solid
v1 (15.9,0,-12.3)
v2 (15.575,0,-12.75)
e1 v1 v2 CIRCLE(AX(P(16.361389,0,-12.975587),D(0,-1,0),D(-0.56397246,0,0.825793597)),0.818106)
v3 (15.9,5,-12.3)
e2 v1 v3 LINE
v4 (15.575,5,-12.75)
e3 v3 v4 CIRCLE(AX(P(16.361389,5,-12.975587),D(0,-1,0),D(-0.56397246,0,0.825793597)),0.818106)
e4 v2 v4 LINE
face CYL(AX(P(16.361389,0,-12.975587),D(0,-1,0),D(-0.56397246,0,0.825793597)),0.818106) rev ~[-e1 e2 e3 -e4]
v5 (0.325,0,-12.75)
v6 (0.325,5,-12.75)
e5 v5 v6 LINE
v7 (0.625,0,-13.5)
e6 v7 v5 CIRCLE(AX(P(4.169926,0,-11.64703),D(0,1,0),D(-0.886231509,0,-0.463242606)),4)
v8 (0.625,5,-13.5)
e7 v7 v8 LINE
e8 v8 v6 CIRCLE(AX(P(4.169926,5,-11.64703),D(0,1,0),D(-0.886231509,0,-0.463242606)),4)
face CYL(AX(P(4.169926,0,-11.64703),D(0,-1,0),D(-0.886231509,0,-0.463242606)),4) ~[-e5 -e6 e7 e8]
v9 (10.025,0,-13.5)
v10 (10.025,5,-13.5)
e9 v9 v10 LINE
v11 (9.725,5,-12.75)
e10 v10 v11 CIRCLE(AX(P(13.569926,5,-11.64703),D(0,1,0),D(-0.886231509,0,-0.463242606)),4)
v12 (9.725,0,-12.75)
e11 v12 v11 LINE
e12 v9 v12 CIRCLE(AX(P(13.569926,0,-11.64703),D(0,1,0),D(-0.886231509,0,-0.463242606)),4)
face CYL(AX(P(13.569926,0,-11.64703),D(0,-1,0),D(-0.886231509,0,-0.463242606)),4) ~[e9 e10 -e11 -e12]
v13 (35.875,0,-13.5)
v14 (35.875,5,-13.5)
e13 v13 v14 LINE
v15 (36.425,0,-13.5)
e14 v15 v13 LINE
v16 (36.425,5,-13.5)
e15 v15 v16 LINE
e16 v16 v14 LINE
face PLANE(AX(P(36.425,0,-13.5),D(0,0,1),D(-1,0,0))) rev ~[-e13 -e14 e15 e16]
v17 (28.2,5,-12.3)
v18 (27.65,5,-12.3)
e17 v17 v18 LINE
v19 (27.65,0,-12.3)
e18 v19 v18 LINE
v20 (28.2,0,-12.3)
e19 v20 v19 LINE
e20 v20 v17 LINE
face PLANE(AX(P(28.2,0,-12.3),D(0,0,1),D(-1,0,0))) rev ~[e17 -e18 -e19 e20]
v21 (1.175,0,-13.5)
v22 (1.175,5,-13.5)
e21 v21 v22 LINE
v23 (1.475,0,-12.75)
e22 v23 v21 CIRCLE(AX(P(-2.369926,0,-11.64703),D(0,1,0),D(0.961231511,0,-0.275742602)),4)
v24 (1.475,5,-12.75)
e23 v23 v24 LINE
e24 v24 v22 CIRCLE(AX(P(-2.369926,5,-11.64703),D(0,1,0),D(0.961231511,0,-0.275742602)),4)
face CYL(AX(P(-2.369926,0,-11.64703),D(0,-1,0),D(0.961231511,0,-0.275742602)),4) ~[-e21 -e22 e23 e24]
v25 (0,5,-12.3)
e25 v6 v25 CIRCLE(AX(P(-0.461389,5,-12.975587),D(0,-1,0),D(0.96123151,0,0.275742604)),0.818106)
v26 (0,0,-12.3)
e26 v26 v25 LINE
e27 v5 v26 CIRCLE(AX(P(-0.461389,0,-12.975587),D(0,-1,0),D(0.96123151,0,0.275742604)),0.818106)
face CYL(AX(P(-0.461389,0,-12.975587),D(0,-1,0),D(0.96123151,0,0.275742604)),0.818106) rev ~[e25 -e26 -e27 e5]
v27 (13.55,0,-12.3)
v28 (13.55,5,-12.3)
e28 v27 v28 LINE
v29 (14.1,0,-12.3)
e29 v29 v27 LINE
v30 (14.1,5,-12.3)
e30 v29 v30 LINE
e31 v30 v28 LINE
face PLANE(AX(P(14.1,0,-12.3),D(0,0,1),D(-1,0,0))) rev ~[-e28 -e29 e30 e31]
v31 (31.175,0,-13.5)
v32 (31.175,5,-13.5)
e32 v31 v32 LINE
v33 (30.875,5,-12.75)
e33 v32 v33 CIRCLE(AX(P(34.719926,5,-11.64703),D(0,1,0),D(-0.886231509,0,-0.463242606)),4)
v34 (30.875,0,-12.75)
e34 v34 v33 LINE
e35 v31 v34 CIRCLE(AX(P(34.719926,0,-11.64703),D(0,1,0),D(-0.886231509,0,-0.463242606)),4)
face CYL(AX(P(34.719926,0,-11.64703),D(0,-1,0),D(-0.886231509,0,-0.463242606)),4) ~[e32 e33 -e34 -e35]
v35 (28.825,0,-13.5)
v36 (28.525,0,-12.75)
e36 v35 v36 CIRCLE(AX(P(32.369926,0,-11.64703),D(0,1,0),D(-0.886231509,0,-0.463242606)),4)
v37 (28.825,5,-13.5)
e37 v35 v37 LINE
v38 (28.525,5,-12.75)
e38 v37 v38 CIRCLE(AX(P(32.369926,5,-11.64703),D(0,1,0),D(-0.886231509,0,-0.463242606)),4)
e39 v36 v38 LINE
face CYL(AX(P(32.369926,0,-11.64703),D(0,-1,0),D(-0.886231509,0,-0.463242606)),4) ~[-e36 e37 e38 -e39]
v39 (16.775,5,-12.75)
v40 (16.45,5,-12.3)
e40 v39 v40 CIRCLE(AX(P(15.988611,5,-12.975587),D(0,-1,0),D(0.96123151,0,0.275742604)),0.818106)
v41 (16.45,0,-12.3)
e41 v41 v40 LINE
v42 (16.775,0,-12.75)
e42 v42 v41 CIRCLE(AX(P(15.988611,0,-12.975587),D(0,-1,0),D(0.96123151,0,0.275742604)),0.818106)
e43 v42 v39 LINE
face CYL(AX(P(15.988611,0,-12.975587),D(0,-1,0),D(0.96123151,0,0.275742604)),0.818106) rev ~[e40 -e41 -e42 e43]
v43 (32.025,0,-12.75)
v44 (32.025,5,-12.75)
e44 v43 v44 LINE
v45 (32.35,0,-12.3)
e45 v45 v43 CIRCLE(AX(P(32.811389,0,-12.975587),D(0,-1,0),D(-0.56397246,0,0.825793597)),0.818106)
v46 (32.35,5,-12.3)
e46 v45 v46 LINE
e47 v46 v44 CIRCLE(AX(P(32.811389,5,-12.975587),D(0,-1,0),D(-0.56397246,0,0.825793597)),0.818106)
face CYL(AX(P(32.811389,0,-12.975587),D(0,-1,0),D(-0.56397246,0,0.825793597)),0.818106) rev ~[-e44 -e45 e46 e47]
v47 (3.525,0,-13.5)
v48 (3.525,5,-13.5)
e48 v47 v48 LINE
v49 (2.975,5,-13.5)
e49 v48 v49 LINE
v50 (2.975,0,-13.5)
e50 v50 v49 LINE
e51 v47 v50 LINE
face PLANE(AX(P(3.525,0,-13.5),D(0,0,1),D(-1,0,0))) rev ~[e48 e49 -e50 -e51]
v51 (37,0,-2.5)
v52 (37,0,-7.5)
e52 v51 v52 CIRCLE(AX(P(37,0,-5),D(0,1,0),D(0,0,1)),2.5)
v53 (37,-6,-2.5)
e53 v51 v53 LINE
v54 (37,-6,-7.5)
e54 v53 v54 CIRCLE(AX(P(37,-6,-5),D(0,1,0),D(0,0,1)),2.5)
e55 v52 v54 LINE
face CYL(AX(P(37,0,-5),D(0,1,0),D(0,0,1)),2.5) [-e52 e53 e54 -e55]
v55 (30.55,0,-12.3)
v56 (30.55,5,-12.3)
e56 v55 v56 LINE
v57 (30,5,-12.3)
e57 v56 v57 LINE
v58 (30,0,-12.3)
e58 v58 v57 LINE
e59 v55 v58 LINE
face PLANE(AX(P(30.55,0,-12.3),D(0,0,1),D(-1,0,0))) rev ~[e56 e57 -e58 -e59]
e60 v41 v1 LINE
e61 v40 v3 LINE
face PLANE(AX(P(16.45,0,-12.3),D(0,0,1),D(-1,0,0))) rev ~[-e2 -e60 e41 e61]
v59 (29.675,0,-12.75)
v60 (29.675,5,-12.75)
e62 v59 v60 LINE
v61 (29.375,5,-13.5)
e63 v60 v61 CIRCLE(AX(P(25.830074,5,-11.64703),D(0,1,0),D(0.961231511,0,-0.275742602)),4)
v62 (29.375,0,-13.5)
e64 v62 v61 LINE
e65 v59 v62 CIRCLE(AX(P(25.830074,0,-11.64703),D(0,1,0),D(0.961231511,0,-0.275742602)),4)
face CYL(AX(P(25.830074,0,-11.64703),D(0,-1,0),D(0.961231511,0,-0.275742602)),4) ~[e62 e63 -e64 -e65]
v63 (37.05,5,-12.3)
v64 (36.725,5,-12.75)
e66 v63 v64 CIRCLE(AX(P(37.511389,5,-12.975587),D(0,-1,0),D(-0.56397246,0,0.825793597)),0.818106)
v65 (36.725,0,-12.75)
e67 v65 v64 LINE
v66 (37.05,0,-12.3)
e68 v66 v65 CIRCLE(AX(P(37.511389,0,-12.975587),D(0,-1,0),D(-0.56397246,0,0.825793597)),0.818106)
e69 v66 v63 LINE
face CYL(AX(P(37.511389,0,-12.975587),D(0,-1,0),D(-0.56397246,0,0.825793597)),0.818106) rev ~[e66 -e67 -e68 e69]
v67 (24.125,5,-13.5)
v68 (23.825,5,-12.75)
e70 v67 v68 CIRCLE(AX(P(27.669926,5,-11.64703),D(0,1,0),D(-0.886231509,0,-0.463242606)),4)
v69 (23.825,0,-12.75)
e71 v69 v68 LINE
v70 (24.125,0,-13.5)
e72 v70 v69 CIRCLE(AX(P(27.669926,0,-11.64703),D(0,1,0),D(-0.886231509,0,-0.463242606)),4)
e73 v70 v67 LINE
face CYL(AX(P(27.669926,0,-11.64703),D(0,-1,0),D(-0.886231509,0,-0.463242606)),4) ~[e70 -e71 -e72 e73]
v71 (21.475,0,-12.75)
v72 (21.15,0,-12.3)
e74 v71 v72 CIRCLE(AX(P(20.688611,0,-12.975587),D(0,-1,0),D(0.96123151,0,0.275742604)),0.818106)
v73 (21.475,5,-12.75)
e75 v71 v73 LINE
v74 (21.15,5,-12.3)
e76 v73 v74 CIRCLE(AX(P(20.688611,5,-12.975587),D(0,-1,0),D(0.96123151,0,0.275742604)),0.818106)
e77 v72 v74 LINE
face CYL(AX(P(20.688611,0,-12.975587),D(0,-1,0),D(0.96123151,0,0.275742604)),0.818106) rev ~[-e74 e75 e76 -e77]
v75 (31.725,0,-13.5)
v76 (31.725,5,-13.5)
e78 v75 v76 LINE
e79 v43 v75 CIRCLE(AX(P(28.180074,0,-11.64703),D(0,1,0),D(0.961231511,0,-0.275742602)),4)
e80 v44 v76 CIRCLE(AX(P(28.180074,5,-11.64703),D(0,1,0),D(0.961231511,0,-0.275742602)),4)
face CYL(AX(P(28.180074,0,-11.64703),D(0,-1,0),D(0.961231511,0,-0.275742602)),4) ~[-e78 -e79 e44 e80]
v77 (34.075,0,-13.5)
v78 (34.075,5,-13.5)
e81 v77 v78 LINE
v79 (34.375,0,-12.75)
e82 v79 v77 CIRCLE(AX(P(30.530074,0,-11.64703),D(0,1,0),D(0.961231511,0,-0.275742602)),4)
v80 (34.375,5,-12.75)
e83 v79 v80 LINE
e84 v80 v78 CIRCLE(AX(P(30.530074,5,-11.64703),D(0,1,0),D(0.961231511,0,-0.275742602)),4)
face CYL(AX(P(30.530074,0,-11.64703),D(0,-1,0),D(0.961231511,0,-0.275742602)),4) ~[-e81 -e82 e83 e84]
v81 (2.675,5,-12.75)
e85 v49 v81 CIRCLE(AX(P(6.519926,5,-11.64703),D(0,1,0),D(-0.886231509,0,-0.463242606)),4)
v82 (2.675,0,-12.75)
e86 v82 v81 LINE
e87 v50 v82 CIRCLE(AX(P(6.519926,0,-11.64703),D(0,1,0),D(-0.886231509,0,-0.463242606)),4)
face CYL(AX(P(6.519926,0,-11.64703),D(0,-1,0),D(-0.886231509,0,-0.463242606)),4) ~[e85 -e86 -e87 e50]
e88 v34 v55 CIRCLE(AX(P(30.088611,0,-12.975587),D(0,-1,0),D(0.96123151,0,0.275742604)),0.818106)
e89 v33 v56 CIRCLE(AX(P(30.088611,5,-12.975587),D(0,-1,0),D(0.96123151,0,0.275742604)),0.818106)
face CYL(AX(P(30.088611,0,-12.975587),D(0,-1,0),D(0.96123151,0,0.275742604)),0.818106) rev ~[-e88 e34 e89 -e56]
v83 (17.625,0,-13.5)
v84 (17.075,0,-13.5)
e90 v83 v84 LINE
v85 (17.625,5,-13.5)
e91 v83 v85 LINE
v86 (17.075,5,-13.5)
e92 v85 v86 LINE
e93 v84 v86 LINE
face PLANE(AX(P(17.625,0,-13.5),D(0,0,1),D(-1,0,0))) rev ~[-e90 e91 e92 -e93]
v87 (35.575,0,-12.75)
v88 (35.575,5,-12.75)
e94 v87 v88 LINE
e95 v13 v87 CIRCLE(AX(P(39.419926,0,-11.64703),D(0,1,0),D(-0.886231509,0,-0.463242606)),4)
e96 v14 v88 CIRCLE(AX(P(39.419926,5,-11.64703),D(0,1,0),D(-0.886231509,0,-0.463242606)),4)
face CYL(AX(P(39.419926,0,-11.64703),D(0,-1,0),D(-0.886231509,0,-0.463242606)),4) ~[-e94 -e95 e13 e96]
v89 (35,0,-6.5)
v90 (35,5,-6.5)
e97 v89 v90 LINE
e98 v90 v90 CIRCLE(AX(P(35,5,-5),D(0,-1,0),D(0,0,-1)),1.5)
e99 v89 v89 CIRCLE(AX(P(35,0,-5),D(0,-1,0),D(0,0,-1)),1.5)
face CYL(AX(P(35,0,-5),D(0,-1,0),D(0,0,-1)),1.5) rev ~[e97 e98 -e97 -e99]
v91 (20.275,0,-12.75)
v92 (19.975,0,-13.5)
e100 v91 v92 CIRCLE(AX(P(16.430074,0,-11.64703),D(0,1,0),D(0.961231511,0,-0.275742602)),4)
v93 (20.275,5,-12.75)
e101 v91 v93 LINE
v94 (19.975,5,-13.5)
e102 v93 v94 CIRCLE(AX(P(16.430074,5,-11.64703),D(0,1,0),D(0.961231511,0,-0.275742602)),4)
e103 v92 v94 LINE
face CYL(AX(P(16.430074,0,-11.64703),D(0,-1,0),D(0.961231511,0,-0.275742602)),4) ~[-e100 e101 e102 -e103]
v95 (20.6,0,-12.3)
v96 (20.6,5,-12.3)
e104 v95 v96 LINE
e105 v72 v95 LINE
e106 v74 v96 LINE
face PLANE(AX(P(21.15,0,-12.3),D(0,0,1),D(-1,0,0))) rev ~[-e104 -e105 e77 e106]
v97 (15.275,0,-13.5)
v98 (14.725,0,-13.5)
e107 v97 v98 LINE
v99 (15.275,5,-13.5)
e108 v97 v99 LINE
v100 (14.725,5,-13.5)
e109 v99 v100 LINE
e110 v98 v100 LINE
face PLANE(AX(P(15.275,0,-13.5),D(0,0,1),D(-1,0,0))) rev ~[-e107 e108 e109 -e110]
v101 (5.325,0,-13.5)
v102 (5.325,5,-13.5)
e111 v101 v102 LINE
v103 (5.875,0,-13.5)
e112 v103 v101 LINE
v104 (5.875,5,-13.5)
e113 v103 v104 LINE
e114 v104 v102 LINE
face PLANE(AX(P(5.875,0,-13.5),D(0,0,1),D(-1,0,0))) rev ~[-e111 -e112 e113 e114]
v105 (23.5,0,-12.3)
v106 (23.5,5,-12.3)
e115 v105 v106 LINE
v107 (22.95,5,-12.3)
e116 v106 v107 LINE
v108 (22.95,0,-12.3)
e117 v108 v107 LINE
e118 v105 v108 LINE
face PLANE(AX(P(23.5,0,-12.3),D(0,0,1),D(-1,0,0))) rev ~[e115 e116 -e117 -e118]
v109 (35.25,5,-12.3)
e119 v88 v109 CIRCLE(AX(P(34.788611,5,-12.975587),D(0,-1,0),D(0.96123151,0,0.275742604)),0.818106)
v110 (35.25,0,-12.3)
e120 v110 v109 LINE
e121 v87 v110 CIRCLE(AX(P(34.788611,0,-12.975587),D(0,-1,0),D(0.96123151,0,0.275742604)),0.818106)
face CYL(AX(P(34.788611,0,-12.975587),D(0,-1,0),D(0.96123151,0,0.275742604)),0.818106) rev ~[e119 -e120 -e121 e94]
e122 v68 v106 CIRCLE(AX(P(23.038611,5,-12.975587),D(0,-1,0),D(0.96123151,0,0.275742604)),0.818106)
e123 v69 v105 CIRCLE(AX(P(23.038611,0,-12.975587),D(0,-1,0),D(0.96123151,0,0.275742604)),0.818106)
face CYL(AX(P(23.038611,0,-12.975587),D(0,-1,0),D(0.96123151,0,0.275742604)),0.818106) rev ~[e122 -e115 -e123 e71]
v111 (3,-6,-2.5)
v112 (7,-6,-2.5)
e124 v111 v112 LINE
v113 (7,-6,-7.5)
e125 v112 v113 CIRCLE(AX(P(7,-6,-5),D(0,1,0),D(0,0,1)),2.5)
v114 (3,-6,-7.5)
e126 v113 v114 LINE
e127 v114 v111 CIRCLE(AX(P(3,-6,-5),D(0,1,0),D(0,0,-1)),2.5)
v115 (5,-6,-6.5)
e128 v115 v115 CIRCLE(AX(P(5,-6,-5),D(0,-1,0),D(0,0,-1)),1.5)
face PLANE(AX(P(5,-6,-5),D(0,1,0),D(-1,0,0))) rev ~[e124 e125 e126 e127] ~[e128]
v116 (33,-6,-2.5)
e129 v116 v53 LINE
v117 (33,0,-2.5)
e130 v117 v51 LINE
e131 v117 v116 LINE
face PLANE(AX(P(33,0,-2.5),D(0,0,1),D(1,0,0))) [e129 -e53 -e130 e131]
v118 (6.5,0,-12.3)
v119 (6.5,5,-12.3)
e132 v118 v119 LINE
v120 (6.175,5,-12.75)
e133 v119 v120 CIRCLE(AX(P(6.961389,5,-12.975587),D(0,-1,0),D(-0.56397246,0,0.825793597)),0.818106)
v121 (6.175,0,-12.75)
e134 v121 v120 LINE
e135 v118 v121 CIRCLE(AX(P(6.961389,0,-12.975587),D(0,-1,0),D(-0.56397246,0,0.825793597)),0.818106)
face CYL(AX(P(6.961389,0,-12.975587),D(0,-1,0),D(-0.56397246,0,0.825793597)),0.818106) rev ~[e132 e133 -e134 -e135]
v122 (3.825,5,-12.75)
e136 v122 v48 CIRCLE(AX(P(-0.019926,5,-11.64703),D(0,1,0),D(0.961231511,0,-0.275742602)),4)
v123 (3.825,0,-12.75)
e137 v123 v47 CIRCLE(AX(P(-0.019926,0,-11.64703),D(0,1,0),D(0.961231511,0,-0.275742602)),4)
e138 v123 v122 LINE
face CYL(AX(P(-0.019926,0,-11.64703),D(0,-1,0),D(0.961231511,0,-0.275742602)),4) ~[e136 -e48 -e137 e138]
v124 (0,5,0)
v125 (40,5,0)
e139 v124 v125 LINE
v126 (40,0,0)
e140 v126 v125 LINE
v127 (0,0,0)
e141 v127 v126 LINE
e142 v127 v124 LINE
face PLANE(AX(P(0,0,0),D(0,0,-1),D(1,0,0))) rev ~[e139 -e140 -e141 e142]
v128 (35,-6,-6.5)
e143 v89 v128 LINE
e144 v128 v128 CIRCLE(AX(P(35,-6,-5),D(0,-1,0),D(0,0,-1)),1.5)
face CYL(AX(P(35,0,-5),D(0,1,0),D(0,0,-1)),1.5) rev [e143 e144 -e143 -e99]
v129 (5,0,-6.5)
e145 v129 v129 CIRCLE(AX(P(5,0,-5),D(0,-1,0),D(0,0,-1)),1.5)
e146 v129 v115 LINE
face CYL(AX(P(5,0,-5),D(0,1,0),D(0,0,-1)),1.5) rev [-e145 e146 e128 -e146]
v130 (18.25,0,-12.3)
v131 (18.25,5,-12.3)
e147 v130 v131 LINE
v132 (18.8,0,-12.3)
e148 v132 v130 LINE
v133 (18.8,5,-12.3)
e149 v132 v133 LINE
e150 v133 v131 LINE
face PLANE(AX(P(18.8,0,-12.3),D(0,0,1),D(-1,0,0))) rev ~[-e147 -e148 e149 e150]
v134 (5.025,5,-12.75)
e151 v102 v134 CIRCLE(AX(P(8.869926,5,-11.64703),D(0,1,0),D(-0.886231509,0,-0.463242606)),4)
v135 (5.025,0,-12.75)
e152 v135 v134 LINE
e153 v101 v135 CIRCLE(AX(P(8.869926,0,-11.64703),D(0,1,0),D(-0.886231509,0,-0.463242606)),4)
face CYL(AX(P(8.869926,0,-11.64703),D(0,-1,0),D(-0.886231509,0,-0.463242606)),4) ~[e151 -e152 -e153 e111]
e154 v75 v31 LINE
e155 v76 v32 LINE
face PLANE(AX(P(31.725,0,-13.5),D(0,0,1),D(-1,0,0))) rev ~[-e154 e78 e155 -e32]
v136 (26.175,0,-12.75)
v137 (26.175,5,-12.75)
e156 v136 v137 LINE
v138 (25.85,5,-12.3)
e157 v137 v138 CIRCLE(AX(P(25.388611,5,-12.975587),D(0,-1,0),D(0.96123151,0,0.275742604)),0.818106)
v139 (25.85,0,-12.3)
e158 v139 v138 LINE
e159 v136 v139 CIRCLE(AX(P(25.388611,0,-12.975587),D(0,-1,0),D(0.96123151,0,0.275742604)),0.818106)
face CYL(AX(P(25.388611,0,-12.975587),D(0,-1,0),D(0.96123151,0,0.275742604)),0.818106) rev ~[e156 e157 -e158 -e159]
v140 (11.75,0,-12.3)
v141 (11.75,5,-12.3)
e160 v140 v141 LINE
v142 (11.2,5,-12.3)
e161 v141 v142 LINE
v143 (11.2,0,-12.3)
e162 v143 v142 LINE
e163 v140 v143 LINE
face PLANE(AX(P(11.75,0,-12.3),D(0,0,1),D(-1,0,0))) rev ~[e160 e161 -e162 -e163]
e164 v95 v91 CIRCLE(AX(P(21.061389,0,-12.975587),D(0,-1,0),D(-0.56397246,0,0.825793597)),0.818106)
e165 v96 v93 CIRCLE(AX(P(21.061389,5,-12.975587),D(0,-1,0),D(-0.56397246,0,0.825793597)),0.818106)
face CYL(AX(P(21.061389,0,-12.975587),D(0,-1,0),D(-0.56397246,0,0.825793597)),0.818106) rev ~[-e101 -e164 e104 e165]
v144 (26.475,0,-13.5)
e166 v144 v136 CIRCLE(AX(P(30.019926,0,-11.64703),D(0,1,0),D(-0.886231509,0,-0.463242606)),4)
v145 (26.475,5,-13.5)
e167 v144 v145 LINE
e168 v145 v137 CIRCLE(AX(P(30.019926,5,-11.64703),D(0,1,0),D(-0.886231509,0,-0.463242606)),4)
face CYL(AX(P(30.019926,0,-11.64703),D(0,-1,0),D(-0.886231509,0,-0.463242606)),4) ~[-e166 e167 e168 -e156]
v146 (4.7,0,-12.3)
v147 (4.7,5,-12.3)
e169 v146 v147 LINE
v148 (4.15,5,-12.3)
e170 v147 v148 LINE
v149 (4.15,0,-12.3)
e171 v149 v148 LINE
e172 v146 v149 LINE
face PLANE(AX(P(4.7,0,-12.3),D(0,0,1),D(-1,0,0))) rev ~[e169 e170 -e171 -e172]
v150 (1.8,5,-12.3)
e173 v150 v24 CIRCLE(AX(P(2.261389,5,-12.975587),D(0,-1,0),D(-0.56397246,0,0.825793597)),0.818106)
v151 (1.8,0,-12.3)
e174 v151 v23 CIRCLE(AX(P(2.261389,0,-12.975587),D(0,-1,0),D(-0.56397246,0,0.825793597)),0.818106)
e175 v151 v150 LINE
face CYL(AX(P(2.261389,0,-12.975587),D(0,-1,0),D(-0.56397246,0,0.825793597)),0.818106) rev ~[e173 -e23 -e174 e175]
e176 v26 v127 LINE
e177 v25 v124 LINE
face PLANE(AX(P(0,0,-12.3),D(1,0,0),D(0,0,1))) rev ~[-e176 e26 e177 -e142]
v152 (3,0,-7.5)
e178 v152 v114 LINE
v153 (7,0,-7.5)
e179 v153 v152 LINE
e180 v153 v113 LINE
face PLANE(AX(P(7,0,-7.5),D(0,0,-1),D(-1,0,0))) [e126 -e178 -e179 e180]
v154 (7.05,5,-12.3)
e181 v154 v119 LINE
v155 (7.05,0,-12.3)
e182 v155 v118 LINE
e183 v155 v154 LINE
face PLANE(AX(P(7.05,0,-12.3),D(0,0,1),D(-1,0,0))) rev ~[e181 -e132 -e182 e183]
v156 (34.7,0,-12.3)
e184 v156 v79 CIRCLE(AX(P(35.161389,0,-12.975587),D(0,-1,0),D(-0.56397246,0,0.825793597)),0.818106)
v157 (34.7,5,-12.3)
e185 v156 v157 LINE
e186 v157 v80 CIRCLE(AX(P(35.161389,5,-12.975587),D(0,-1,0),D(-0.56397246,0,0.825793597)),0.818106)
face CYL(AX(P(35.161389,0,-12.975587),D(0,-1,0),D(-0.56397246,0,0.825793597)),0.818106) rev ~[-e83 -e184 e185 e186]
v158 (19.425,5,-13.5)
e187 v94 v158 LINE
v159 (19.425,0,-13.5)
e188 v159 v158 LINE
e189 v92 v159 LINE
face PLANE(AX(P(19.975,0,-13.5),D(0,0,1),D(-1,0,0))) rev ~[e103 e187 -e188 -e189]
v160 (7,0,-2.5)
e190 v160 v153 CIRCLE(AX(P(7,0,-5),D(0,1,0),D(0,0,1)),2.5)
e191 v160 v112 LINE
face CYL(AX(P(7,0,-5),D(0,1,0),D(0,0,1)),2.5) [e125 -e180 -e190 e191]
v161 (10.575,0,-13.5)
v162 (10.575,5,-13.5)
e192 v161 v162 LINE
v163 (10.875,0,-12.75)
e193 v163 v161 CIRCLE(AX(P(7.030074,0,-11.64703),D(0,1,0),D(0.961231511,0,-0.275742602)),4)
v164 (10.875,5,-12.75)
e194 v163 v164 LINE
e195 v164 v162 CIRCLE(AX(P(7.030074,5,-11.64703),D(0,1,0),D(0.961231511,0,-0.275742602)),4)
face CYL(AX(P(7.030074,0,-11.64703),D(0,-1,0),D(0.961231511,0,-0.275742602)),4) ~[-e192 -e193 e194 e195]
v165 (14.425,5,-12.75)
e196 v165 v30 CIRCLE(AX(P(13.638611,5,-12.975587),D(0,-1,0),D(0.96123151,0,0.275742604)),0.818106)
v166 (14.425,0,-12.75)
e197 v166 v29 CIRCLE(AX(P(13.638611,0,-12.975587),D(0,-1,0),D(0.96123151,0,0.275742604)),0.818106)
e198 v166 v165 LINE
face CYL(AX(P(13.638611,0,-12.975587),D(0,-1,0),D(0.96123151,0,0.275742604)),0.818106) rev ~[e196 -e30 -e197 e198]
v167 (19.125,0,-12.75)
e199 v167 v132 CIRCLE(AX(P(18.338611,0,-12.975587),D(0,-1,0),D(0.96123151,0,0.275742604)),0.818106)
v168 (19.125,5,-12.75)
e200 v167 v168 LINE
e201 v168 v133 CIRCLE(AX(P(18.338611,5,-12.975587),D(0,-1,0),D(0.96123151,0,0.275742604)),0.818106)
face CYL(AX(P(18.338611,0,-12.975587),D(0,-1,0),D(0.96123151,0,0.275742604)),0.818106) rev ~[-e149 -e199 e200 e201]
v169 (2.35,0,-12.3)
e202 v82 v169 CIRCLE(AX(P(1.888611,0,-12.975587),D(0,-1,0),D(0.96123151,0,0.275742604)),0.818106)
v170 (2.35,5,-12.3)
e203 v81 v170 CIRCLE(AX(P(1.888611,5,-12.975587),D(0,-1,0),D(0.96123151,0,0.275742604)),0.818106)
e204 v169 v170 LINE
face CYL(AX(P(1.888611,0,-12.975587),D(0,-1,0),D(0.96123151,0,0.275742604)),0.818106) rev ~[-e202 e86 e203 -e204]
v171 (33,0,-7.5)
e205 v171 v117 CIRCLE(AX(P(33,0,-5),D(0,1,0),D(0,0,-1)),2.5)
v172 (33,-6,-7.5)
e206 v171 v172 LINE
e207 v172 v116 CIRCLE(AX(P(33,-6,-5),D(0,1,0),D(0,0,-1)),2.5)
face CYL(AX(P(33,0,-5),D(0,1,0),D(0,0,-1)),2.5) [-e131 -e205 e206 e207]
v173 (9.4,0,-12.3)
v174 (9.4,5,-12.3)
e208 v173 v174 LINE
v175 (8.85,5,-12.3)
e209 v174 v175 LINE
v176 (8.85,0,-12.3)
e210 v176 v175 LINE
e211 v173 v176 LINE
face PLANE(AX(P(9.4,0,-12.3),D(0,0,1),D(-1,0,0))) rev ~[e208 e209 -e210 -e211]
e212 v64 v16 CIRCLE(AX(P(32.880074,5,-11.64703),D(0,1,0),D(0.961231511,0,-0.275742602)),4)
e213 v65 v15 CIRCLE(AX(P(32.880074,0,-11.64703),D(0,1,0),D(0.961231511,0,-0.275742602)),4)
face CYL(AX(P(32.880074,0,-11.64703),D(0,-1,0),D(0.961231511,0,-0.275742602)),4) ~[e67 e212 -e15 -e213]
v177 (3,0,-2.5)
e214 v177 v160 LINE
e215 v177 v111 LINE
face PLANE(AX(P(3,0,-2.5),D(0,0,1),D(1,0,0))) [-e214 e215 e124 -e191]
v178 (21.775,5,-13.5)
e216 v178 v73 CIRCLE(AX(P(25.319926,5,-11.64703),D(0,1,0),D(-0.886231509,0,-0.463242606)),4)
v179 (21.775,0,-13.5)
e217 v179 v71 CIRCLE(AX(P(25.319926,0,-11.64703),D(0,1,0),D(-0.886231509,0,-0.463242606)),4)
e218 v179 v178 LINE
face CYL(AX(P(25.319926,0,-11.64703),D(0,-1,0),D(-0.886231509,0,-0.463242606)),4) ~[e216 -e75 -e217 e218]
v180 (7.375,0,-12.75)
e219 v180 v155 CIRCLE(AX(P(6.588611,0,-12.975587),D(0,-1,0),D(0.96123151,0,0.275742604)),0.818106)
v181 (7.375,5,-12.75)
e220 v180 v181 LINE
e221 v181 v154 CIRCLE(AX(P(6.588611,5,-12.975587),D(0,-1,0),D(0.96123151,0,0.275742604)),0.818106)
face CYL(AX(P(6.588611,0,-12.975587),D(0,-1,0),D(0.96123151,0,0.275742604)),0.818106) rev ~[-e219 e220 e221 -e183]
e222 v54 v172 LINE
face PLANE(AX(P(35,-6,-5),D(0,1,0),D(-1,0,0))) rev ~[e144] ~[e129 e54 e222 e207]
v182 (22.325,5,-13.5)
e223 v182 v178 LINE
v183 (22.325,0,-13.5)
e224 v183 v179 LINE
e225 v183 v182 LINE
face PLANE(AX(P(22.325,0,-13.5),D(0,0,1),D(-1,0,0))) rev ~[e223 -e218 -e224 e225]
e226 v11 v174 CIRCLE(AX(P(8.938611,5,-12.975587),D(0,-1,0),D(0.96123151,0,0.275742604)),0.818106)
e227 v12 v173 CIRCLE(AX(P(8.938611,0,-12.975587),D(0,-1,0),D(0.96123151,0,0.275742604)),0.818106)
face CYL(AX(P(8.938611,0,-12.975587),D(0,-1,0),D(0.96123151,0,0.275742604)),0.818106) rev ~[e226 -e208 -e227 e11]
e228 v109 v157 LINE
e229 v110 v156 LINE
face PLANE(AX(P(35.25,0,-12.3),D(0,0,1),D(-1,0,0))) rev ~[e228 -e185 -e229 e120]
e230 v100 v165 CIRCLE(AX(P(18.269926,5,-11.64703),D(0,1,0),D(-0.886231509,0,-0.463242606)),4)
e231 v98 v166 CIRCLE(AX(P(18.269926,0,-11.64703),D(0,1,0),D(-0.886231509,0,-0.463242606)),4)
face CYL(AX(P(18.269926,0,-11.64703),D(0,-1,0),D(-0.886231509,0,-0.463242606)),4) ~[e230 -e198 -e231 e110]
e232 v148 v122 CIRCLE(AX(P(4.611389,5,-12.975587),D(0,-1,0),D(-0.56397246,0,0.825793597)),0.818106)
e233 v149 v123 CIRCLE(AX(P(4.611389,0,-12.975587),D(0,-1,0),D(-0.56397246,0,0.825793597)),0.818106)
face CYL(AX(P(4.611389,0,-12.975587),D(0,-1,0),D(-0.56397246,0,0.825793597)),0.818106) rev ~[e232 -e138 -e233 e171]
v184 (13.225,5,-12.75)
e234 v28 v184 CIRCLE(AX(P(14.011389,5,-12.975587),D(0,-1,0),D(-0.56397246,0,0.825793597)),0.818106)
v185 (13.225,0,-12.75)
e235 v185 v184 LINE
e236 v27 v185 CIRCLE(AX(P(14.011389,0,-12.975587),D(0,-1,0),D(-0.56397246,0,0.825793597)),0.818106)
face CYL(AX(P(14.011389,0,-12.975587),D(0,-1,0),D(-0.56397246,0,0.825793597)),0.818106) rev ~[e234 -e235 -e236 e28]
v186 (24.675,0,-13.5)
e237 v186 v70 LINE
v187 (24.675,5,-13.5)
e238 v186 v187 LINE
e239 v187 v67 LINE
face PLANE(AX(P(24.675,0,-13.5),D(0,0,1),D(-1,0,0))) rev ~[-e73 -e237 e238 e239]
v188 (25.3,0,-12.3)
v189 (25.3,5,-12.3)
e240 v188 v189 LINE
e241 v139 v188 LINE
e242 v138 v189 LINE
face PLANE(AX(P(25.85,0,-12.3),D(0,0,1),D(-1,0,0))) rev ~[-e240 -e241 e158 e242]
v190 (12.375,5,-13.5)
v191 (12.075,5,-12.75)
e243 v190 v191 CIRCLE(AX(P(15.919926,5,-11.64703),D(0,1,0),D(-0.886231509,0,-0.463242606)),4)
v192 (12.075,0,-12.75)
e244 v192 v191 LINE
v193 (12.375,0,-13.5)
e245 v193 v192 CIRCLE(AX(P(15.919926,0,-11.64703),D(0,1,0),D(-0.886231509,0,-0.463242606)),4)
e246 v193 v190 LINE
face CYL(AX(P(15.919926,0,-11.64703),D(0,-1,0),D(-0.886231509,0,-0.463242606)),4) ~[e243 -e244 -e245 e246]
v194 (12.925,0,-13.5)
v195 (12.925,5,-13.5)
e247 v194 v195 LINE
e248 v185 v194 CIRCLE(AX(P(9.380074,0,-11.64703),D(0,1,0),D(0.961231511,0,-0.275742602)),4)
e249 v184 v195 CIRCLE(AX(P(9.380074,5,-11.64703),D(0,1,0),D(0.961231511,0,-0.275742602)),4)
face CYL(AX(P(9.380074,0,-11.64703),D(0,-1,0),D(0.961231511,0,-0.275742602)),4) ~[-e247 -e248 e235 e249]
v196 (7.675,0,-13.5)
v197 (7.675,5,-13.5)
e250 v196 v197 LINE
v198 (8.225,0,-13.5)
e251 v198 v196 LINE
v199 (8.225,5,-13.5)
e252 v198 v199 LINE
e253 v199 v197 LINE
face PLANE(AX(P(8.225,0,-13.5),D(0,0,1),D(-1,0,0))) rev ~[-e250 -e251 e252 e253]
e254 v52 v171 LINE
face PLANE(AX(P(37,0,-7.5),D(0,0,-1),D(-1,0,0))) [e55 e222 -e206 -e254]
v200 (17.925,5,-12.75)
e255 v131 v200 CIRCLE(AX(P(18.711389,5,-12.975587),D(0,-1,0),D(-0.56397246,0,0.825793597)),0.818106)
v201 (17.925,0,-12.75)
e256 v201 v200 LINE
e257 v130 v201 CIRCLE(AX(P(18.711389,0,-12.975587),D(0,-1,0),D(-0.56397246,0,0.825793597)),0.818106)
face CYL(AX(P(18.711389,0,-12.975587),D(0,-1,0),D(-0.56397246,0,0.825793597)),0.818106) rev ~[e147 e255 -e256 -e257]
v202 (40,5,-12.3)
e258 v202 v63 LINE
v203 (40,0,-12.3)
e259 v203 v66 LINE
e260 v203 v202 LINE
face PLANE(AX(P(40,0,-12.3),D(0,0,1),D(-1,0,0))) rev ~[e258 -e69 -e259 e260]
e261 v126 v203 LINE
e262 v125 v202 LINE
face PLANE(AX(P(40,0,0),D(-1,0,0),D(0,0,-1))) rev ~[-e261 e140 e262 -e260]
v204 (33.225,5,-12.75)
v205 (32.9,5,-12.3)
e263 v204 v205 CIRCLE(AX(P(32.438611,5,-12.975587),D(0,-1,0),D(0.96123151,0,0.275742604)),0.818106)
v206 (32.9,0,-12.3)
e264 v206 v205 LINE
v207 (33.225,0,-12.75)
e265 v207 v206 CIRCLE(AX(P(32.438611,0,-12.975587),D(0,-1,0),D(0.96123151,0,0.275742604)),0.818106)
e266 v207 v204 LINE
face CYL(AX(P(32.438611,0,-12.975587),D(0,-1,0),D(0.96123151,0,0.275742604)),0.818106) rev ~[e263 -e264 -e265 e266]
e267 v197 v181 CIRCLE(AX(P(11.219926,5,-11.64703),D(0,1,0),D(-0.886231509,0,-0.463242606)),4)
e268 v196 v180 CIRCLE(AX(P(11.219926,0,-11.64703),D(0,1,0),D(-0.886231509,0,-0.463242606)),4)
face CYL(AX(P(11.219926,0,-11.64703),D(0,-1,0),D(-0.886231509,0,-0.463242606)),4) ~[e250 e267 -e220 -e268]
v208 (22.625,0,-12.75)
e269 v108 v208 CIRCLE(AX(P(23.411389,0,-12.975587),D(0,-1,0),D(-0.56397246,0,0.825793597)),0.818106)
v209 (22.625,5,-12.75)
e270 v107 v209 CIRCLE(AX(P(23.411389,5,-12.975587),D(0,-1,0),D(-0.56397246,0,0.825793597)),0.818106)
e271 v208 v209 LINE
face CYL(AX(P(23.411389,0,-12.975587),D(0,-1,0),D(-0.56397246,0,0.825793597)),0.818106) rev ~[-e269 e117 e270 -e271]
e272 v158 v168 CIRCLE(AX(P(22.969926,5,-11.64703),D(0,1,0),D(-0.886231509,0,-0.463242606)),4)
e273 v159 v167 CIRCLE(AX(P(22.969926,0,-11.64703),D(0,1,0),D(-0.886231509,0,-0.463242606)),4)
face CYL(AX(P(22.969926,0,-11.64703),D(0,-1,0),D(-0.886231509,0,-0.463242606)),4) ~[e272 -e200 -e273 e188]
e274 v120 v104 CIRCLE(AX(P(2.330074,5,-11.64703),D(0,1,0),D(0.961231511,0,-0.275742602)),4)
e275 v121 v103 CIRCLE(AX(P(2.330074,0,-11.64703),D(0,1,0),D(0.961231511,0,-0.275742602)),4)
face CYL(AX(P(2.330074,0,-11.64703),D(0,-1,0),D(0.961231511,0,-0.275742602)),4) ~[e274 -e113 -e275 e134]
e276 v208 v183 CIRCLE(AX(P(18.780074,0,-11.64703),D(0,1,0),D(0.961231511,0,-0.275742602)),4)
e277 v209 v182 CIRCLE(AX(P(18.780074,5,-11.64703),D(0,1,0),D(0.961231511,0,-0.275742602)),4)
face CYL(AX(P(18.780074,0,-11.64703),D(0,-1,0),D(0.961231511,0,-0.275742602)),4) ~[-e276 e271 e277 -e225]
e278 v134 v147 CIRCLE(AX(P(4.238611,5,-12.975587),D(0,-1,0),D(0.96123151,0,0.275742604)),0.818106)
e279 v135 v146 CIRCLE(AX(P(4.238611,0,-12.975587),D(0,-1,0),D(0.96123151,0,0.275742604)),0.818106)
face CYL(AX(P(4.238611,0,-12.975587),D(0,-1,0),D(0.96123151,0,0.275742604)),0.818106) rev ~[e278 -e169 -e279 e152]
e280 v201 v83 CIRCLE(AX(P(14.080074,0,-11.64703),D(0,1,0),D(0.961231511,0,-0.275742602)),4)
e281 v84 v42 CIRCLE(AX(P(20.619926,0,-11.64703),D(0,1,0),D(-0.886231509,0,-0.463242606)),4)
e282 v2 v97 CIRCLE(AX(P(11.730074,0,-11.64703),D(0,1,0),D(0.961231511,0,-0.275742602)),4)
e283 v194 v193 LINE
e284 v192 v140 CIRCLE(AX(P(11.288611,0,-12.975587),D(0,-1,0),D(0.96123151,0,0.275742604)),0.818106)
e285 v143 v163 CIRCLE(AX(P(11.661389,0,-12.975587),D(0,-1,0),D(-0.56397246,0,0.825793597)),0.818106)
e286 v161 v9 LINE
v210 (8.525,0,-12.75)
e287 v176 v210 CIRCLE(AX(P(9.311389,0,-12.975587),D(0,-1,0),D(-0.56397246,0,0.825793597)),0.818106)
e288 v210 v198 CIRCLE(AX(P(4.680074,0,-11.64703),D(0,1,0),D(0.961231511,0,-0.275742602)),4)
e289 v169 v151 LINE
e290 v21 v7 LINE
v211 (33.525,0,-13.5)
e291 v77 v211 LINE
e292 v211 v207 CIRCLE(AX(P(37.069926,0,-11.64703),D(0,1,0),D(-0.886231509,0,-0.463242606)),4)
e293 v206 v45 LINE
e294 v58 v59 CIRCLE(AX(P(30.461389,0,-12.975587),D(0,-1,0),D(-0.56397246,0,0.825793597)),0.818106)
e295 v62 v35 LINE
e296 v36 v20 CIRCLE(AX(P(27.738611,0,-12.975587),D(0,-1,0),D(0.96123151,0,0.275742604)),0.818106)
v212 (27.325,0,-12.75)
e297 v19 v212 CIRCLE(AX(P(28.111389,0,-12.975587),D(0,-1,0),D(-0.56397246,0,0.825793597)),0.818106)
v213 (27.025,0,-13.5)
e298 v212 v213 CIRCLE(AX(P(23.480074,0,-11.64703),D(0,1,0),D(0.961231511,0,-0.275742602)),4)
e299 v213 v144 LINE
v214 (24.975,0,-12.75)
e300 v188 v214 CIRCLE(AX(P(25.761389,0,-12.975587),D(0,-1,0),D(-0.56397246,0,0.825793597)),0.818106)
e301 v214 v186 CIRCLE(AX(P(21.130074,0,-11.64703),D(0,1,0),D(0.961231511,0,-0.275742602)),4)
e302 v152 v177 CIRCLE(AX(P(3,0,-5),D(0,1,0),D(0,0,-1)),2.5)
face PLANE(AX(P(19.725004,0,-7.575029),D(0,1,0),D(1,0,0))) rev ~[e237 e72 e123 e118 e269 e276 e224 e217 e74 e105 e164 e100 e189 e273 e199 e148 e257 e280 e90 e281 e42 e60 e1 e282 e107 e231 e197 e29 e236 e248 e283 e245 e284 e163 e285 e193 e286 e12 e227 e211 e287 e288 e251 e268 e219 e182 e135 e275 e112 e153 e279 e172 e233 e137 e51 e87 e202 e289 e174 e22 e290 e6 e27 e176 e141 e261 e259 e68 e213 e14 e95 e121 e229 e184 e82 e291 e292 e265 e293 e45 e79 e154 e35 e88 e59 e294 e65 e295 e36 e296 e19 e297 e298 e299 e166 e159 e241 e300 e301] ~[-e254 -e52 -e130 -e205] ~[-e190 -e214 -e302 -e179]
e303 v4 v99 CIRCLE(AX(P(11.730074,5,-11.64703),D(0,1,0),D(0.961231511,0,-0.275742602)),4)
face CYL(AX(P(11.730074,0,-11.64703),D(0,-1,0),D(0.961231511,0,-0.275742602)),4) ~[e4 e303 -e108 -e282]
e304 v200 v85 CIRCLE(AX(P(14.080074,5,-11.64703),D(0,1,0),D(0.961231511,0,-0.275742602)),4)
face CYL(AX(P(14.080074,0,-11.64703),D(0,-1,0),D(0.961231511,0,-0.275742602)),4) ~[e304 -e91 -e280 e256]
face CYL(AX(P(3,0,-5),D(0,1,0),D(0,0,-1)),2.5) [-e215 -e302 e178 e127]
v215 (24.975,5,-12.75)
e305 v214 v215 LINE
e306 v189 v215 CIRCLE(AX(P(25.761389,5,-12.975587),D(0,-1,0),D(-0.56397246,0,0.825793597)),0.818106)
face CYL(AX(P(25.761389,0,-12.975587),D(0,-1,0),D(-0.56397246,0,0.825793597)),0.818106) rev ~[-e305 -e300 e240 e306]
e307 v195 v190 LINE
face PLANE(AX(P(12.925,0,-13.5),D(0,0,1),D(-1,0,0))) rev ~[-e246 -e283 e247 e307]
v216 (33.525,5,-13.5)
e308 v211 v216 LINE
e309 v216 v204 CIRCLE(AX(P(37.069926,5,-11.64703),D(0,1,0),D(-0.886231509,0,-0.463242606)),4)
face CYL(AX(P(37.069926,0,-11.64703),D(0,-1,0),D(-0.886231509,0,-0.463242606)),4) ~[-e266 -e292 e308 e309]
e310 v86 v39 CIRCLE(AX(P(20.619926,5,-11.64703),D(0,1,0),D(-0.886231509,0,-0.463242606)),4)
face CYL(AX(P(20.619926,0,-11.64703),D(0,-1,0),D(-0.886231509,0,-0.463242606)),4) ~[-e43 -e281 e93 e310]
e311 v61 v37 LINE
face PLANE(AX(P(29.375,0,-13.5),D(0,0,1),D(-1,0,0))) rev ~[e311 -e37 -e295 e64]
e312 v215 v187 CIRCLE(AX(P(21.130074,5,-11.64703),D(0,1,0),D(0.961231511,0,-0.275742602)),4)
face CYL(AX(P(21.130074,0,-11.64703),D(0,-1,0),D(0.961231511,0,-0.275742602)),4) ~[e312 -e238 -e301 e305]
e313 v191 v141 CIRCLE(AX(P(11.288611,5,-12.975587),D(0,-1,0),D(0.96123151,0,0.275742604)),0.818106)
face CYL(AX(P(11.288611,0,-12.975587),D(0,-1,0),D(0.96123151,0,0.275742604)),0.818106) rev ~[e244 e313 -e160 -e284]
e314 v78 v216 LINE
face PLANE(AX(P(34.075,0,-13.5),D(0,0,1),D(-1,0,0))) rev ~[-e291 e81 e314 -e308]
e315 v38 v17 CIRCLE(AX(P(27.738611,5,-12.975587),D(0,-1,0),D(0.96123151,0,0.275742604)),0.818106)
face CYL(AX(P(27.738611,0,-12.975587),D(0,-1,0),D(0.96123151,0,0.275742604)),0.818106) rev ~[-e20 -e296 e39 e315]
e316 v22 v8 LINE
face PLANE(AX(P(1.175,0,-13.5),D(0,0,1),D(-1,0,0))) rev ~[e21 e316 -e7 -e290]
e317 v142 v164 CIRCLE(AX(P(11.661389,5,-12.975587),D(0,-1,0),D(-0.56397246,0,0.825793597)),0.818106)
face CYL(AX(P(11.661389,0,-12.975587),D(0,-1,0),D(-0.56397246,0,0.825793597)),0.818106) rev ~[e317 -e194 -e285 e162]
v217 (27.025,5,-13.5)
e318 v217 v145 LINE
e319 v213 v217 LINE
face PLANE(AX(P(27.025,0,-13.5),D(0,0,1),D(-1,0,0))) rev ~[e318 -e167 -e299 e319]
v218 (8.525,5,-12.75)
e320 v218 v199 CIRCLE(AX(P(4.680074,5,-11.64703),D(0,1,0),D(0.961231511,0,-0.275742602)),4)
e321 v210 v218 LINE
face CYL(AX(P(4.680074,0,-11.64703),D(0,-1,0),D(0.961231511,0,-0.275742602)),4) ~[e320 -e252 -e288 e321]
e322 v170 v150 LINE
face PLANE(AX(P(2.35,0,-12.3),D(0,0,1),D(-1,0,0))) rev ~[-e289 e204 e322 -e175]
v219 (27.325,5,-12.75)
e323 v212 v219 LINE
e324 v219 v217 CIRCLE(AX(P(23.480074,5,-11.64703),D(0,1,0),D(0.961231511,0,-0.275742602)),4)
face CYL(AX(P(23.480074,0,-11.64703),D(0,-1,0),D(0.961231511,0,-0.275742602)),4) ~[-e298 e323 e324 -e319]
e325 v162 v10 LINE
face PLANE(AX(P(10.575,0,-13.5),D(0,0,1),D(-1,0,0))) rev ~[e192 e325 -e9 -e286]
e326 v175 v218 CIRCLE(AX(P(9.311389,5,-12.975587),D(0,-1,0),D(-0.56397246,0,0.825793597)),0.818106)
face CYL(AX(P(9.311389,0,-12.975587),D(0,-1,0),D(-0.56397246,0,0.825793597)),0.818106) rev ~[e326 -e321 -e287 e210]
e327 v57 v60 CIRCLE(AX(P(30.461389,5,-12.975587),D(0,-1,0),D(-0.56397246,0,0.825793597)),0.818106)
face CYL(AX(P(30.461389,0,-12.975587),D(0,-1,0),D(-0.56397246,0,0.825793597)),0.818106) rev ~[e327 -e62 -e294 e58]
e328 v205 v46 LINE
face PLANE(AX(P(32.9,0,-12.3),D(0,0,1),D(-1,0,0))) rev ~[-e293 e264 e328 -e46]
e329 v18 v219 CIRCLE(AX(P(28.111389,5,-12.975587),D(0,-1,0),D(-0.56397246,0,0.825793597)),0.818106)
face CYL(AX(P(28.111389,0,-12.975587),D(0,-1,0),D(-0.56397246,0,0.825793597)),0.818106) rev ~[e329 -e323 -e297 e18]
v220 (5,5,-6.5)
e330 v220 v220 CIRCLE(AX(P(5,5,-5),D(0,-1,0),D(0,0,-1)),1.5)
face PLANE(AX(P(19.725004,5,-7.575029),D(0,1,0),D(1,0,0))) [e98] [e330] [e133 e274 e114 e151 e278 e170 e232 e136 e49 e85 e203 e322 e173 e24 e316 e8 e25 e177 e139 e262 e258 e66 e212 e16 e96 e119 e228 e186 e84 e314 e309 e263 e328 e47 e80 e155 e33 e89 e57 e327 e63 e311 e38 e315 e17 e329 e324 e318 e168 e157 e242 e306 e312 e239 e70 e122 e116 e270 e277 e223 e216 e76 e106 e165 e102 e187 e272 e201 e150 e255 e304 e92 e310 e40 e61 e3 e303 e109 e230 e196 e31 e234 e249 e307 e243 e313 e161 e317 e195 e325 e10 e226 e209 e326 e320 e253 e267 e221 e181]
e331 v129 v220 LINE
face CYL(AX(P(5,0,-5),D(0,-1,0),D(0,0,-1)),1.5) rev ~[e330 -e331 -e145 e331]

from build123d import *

# Parameters (mm, degrees)
BOSS_EXTRUDE1_DEPTH = 5
SKETCH2_R           = 1.5
BOSS_EXTRUDE2_DEPTH = 6
CUT_EXTRUDE1_REACH  = 44.641
SKETCH3_R           = 1.5


with BuildPart() as part:
    # Sketch1 → Boss-Extrude1 (new body)
    with BuildSketch(Plane(origin=(0, 0, 0), x_dir=(1, 0, 0), z_dir=(0, 1, 0))):
        with BuildLine():
            Line((0, 0), (40, 0))
            Line((40, 0), (40, 12.3))
            Line((40, 12.3), (37.05, 12.3))
            ThreePointArc((37.05, 12.3), (36.84816772, 12.496593354), (36.725, 12.75))
            ThreePointArc((36.725, 12.75), (36.593980723, 13.132592289), (36.425, 13.5))
            Line((36.425, 13.5), (35.875, 13.5))
            ThreePointArc((35.875, 13.5), (35.706019277, 13.132592289), (35.575, 12.75))
            ThreePointArc((35.575, 12.75), (35.45183228, 12.496593354), (35.25, 12.3))
            Line((35.25, 12.3), (34.7, 12.3))
            ThreePointArc((34.7, 12.3), (34.49816772, 12.496593354), (34.375, 12.75))
            ThreePointArc((34.375, 12.75), (34.243980723, 13.132592289), (34.075, 13.5))
            Line((34.075, 13.5), (33.525, 13.5))
            ThreePointArc((33.525, 13.5), (33.356019277, 13.132592289), (33.225, 12.75))
            ThreePointArc((33.225, 12.75), (33.10183228, 12.496593354), (32.9, 12.3))
            Line((32.9, 12.3), (32.35, 12.3))
            ThreePointArc((32.35, 12.3), (32.14816772, 12.496593354), (32.025, 12.75))
            ThreePointArc((32.025, 12.75), (31.893980723, 13.132592289), (31.725, 13.5))
            Line((31.725, 13.5), (31.175, 13.5))
            ThreePointArc((31.175, 13.5), (31.006019277, 13.132592289), (30.875, 12.75))
            ThreePointArc((30.875, 12.75), (30.75183228, 12.496593354), (30.55, 12.3))
            Line((30.55, 12.3), (30, 12.3))
            ThreePointArc((30, 12.3), (29.79816772, 12.496593354), (29.675, 12.75))
            ThreePointArc((29.675, 12.75), (29.543980723, 13.132592289), (29.375, 13.5))
            Line((29.375, 13.5), (28.825, 13.5))
            ThreePointArc((28.825, 13.5), (28.656019277, 13.132592289), (28.525, 12.75))
            ThreePointArc((28.525, 12.75), (28.40183228, 12.496593354), (28.2, 12.3))
            Line((28.2, 12.3), (27.65, 12.3))
            ThreePointArc((27.65, 12.3), (27.44816772, 12.496593354), (27.325, 12.75))
            ThreePointArc((27.325, 12.75), (27.193980723, 13.132592289), (27.025, 13.5))
            Line((27.025, 13.5), (26.475, 13.5))
            ThreePointArc((26.475, 13.5), (26.306019277, 13.132592289), (26.175, 12.75))
            ThreePointArc((26.175, 12.75), (26.05183228, 12.496593354), (25.85, 12.3))
            Line((25.85, 12.3), (25.3, 12.3))
            ThreePointArc((25.3, 12.3), (25.09816772, 12.496593354), (24.975, 12.75))
            ThreePointArc((24.975, 12.75), (24.843980723, 13.132592289), (24.675, 13.5))
            Line((24.675, 13.5), (24.125, 13.5))
            ThreePointArc((24.125, 13.5), (23.956019277, 13.132592289), (23.825, 12.75))
            ThreePointArc((23.825, 12.75), (23.70183228, 12.496593354), (23.5, 12.3))
            Line((23.5, 12.3), (22.95, 12.3))
            ThreePointArc((22.95, 12.3), (22.74816772, 12.496593354), (22.625, 12.75))
            ThreePointArc((22.625, 12.75), (22.493980723, 13.132592289), (22.325, 13.5))
            Line((22.325, 13.5), (21.775, 13.5))
            ThreePointArc((21.775, 13.5), (21.606019277, 13.132592289), (21.475, 12.75))
            ThreePointArc((21.475, 12.75), (21.35183228, 12.496593354), (21.15, 12.3))
            Line((21.15, 12.3), (20.6, 12.3))
            ThreePointArc((20.6, 12.3), (20.39816772, 12.496593354), (20.275, 12.75))
            ThreePointArc((20.275, 12.75), (20.143980723, 13.132592289), (19.975, 13.5))
            Line((19.975, 13.5), (19.425, 13.5))
            ThreePointArc((19.425, 13.5), (19.256019277, 13.132592289), (19.125, 12.75))
            ThreePointArc((19.125, 12.75), (19.00183228, 12.496593354), (18.8, 12.3))
            Line((18.8, 12.3), (18.25, 12.3))
            ThreePointArc((18.25, 12.3), (18.04816772, 12.496593354), (17.925, 12.75))
            ThreePointArc((17.925, 12.75), (17.793980723, 13.132592289), (17.625, 13.5))
            Line((17.625, 13.5), (17.075, 13.5))
            ThreePointArc((17.075, 13.5), (16.906019277, 13.132592289), (16.775, 12.75))
            ThreePointArc((16.775, 12.75), (16.65183228, 12.496593354), (16.45, 12.3))
            Line((16.45, 12.3), (15.9, 12.3))
            ThreePointArc((15.9, 12.3), (15.69816772, 12.496593354), (15.575, 12.75))
            ThreePointArc((15.575, 12.75), (15.443980723, 13.132592289), (15.275, 13.5))
            Line((15.275, 13.5), (14.725, 13.5))
            ThreePointArc((14.725, 13.5), (14.556019277, 13.132592289), (14.425, 12.75))
            ThreePointArc((14.425, 12.75), (14.30183228, 12.496593354), (14.1, 12.3))
            Line((14.1, 12.3), (13.55, 12.3))
            ThreePointArc((13.55, 12.3), (13.34816772, 12.496593354), (13.225, 12.75))
            ThreePointArc((13.225, 12.75), (13.093980723, 13.132592289), (12.925, 13.5))
            Line((12.925, 13.5), (12.375, 13.5))
            ThreePointArc((12.375, 13.5), (12.206019277, 13.132592289), (12.075, 12.75))
            ThreePointArc((12.075, 12.75), (11.95183228, 12.496593354), (11.75, 12.3))
            Line((11.75, 12.3), (11.2, 12.3))
            ThreePointArc((11.2, 12.3), (10.99816772, 12.496593354), (10.875, 12.75))
            ThreePointArc((10.875, 12.75), (10.743980723, 13.132592289), (10.575, 13.5))
            Line((10.575, 13.5), (10.025, 13.5))
            ThreePointArc((10.025, 13.5), (9.856019277, 13.132592289), (9.725, 12.75))
            ThreePointArc((9.725, 12.75), (9.60183228, 12.496593354), (9.4, 12.3))
            Line((9.4, 12.3), (8.85, 12.3))
            ThreePointArc((8.85, 12.3), (8.64816772, 12.496593354), (8.525, 12.75))
            ThreePointArc((8.525, 12.75), (8.393980723, 13.132592289), (8.225, 13.5))
            Line((8.225, 13.5), (7.675, 13.5))
            ThreePointArc((7.675, 13.5), (7.506019277, 13.132592289), (7.375, 12.75))
            ThreePointArc((7.375, 12.75), (7.25183228, 12.496593354), (7.05, 12.3))
            Line((7.05, 12.3), (6.5, 12.3))
            ThreePointArc((6.5, 12.3), (6.29816772, 12.496593354), (6.175, 12.75))
            ThreePointArc((6.175, 12.75), (6.043980723, 13.132592289), (5.875, 13.5))
            Line((5.875, 13.5), (5.325, 13.5))
            ThreePointArc((5.325, 13.5), (5.156019277, 13.132592289), (5.025, 12.75))
            ThreePointArc((5.025, 12.75), (4.90183228, 12.496593354), (4.7, 12.3))
            Line((4.7, 12.3), (4.15, 12.3))
            ThreePointArc((4.15, 12.3), (3.94816772, 12.496593354), (3.825, 12.75))
            ThreePointArc((3.825, 12.75), (3.693980723, 13.132592289), (3.525, 13.5))
            Line((3.525, 13.5), (2.975, 13.5))
            ThreePointArc((2.975, 13.5), (2.806019277, 13.132592289), (2.675, 12.75))
            ThreePointArc((2.675, 12.75), (2.55183228, 12.496593354), (2.35, 12.3))
            Line((2.35, 12.3), (1.8, 12.3))
            ThreePointArc((1.8, 12.3), (1.59816772, 12.496593354), (1.475, 12.75))
            ThreePointArc((1.475, 12.75), (1.343980723, 13.132592289), (1.175, 13.5))
            Line((1.175, 13.5), (0.625, 13.5))
            ThreePointArc((0.625, 13.5), (0.456019277, 13.132592289), (0.325, 12.75))
            ThreePointArc((0.325, 12.75), (0.20183228, 12.496593354), (0, 12.3))
            Line((0, 12.3), (0, 0))
        make_face()
    extrude(amount=BOSS_EXTRUDE1_DEPTH)

    # Sketch2 → Boss-Extrude2 (add)
    # profile 1 of 2: a face of its own
    with BuildSketch(Plane.XZ):
        with BuildLine():
            Line((7, -7.5), (3, -7.5))
            ThreePointArc((3, -7.5), (0.5, -5), (3, -2.5))
            Line((3, -2.5), (7, -2.5))
            ThreePointArc((7, -2.5), (9.5, -5), (7, -7.5))
        make_face()
        with Locations(Location((5, -5, 0), (0, 0, 270))):
            Circle(SKETCH2_R, mode=Mode.SUBTRACT)
    # profile 2 of 2: a face of its own
    with BuildSketch(Plane.XZ):
        with BuildLine():
            Line((37, -7.5), (33, -7.5))
            ThreePointArc((33, -7.5), (30.5, -5), (33, -2.5))
            Line((33, -2.5), (37, -2.5))
            ThreePointArc((37, -2.5), (39.5, -5), (37, -7.5))
        make_face()
        with Locations(Location((35, -5, 0), (0, 0, 270))):
            Circle(SKETCH2_R, mode=Mode.SUBTRACT)
    extrude(amount=BOSS_EXTRUDE2_DEPTH)

    # Sketch3 → Cut-Extrude1 (cut, up to next)
    with BuildSketch(Plane.XZ, mode=Mode.PRIVATE) as cut_extrude1_sk1:
        with Locations(Location((35, -5, 0), (0, 0, 270))):
            Circle(SKETCH3_R)
    cut_extrude1_tool1 = extrude(cut_extrude1_sk1.sketch, amount=-CUT_EXTRUDE1_REACH, mode=Mode.PRIVATE) & part.part
    # Sketch3 → Cut-Extrude1 (cut, up to next)
    with BuildSketch(Plane.XZ, mode=Mode.PRIVATE) as cut_extrude1_sk2:
        with Locations(Location((5, -5, 0), (0, 0, 270))):
            Circle(SKETCH3_R)
    cut_extrude1_tool2 = extrude(cut_extrude1_sk2.sketch, amount=-CUT_EXTRUDE1_REACH, mode=Mode.PRIVATE) & part.part
    add(cut_extrude1_tool1.solids().sort_by_distance((35, 0, -5))[0], mode=Mode.SUBTRACT)
    add(cut_extrude1_tool2.solids().sort_by_distance((5, 0, -5))[0], mode=Mode.SUBTRACT)


solid = part.part
